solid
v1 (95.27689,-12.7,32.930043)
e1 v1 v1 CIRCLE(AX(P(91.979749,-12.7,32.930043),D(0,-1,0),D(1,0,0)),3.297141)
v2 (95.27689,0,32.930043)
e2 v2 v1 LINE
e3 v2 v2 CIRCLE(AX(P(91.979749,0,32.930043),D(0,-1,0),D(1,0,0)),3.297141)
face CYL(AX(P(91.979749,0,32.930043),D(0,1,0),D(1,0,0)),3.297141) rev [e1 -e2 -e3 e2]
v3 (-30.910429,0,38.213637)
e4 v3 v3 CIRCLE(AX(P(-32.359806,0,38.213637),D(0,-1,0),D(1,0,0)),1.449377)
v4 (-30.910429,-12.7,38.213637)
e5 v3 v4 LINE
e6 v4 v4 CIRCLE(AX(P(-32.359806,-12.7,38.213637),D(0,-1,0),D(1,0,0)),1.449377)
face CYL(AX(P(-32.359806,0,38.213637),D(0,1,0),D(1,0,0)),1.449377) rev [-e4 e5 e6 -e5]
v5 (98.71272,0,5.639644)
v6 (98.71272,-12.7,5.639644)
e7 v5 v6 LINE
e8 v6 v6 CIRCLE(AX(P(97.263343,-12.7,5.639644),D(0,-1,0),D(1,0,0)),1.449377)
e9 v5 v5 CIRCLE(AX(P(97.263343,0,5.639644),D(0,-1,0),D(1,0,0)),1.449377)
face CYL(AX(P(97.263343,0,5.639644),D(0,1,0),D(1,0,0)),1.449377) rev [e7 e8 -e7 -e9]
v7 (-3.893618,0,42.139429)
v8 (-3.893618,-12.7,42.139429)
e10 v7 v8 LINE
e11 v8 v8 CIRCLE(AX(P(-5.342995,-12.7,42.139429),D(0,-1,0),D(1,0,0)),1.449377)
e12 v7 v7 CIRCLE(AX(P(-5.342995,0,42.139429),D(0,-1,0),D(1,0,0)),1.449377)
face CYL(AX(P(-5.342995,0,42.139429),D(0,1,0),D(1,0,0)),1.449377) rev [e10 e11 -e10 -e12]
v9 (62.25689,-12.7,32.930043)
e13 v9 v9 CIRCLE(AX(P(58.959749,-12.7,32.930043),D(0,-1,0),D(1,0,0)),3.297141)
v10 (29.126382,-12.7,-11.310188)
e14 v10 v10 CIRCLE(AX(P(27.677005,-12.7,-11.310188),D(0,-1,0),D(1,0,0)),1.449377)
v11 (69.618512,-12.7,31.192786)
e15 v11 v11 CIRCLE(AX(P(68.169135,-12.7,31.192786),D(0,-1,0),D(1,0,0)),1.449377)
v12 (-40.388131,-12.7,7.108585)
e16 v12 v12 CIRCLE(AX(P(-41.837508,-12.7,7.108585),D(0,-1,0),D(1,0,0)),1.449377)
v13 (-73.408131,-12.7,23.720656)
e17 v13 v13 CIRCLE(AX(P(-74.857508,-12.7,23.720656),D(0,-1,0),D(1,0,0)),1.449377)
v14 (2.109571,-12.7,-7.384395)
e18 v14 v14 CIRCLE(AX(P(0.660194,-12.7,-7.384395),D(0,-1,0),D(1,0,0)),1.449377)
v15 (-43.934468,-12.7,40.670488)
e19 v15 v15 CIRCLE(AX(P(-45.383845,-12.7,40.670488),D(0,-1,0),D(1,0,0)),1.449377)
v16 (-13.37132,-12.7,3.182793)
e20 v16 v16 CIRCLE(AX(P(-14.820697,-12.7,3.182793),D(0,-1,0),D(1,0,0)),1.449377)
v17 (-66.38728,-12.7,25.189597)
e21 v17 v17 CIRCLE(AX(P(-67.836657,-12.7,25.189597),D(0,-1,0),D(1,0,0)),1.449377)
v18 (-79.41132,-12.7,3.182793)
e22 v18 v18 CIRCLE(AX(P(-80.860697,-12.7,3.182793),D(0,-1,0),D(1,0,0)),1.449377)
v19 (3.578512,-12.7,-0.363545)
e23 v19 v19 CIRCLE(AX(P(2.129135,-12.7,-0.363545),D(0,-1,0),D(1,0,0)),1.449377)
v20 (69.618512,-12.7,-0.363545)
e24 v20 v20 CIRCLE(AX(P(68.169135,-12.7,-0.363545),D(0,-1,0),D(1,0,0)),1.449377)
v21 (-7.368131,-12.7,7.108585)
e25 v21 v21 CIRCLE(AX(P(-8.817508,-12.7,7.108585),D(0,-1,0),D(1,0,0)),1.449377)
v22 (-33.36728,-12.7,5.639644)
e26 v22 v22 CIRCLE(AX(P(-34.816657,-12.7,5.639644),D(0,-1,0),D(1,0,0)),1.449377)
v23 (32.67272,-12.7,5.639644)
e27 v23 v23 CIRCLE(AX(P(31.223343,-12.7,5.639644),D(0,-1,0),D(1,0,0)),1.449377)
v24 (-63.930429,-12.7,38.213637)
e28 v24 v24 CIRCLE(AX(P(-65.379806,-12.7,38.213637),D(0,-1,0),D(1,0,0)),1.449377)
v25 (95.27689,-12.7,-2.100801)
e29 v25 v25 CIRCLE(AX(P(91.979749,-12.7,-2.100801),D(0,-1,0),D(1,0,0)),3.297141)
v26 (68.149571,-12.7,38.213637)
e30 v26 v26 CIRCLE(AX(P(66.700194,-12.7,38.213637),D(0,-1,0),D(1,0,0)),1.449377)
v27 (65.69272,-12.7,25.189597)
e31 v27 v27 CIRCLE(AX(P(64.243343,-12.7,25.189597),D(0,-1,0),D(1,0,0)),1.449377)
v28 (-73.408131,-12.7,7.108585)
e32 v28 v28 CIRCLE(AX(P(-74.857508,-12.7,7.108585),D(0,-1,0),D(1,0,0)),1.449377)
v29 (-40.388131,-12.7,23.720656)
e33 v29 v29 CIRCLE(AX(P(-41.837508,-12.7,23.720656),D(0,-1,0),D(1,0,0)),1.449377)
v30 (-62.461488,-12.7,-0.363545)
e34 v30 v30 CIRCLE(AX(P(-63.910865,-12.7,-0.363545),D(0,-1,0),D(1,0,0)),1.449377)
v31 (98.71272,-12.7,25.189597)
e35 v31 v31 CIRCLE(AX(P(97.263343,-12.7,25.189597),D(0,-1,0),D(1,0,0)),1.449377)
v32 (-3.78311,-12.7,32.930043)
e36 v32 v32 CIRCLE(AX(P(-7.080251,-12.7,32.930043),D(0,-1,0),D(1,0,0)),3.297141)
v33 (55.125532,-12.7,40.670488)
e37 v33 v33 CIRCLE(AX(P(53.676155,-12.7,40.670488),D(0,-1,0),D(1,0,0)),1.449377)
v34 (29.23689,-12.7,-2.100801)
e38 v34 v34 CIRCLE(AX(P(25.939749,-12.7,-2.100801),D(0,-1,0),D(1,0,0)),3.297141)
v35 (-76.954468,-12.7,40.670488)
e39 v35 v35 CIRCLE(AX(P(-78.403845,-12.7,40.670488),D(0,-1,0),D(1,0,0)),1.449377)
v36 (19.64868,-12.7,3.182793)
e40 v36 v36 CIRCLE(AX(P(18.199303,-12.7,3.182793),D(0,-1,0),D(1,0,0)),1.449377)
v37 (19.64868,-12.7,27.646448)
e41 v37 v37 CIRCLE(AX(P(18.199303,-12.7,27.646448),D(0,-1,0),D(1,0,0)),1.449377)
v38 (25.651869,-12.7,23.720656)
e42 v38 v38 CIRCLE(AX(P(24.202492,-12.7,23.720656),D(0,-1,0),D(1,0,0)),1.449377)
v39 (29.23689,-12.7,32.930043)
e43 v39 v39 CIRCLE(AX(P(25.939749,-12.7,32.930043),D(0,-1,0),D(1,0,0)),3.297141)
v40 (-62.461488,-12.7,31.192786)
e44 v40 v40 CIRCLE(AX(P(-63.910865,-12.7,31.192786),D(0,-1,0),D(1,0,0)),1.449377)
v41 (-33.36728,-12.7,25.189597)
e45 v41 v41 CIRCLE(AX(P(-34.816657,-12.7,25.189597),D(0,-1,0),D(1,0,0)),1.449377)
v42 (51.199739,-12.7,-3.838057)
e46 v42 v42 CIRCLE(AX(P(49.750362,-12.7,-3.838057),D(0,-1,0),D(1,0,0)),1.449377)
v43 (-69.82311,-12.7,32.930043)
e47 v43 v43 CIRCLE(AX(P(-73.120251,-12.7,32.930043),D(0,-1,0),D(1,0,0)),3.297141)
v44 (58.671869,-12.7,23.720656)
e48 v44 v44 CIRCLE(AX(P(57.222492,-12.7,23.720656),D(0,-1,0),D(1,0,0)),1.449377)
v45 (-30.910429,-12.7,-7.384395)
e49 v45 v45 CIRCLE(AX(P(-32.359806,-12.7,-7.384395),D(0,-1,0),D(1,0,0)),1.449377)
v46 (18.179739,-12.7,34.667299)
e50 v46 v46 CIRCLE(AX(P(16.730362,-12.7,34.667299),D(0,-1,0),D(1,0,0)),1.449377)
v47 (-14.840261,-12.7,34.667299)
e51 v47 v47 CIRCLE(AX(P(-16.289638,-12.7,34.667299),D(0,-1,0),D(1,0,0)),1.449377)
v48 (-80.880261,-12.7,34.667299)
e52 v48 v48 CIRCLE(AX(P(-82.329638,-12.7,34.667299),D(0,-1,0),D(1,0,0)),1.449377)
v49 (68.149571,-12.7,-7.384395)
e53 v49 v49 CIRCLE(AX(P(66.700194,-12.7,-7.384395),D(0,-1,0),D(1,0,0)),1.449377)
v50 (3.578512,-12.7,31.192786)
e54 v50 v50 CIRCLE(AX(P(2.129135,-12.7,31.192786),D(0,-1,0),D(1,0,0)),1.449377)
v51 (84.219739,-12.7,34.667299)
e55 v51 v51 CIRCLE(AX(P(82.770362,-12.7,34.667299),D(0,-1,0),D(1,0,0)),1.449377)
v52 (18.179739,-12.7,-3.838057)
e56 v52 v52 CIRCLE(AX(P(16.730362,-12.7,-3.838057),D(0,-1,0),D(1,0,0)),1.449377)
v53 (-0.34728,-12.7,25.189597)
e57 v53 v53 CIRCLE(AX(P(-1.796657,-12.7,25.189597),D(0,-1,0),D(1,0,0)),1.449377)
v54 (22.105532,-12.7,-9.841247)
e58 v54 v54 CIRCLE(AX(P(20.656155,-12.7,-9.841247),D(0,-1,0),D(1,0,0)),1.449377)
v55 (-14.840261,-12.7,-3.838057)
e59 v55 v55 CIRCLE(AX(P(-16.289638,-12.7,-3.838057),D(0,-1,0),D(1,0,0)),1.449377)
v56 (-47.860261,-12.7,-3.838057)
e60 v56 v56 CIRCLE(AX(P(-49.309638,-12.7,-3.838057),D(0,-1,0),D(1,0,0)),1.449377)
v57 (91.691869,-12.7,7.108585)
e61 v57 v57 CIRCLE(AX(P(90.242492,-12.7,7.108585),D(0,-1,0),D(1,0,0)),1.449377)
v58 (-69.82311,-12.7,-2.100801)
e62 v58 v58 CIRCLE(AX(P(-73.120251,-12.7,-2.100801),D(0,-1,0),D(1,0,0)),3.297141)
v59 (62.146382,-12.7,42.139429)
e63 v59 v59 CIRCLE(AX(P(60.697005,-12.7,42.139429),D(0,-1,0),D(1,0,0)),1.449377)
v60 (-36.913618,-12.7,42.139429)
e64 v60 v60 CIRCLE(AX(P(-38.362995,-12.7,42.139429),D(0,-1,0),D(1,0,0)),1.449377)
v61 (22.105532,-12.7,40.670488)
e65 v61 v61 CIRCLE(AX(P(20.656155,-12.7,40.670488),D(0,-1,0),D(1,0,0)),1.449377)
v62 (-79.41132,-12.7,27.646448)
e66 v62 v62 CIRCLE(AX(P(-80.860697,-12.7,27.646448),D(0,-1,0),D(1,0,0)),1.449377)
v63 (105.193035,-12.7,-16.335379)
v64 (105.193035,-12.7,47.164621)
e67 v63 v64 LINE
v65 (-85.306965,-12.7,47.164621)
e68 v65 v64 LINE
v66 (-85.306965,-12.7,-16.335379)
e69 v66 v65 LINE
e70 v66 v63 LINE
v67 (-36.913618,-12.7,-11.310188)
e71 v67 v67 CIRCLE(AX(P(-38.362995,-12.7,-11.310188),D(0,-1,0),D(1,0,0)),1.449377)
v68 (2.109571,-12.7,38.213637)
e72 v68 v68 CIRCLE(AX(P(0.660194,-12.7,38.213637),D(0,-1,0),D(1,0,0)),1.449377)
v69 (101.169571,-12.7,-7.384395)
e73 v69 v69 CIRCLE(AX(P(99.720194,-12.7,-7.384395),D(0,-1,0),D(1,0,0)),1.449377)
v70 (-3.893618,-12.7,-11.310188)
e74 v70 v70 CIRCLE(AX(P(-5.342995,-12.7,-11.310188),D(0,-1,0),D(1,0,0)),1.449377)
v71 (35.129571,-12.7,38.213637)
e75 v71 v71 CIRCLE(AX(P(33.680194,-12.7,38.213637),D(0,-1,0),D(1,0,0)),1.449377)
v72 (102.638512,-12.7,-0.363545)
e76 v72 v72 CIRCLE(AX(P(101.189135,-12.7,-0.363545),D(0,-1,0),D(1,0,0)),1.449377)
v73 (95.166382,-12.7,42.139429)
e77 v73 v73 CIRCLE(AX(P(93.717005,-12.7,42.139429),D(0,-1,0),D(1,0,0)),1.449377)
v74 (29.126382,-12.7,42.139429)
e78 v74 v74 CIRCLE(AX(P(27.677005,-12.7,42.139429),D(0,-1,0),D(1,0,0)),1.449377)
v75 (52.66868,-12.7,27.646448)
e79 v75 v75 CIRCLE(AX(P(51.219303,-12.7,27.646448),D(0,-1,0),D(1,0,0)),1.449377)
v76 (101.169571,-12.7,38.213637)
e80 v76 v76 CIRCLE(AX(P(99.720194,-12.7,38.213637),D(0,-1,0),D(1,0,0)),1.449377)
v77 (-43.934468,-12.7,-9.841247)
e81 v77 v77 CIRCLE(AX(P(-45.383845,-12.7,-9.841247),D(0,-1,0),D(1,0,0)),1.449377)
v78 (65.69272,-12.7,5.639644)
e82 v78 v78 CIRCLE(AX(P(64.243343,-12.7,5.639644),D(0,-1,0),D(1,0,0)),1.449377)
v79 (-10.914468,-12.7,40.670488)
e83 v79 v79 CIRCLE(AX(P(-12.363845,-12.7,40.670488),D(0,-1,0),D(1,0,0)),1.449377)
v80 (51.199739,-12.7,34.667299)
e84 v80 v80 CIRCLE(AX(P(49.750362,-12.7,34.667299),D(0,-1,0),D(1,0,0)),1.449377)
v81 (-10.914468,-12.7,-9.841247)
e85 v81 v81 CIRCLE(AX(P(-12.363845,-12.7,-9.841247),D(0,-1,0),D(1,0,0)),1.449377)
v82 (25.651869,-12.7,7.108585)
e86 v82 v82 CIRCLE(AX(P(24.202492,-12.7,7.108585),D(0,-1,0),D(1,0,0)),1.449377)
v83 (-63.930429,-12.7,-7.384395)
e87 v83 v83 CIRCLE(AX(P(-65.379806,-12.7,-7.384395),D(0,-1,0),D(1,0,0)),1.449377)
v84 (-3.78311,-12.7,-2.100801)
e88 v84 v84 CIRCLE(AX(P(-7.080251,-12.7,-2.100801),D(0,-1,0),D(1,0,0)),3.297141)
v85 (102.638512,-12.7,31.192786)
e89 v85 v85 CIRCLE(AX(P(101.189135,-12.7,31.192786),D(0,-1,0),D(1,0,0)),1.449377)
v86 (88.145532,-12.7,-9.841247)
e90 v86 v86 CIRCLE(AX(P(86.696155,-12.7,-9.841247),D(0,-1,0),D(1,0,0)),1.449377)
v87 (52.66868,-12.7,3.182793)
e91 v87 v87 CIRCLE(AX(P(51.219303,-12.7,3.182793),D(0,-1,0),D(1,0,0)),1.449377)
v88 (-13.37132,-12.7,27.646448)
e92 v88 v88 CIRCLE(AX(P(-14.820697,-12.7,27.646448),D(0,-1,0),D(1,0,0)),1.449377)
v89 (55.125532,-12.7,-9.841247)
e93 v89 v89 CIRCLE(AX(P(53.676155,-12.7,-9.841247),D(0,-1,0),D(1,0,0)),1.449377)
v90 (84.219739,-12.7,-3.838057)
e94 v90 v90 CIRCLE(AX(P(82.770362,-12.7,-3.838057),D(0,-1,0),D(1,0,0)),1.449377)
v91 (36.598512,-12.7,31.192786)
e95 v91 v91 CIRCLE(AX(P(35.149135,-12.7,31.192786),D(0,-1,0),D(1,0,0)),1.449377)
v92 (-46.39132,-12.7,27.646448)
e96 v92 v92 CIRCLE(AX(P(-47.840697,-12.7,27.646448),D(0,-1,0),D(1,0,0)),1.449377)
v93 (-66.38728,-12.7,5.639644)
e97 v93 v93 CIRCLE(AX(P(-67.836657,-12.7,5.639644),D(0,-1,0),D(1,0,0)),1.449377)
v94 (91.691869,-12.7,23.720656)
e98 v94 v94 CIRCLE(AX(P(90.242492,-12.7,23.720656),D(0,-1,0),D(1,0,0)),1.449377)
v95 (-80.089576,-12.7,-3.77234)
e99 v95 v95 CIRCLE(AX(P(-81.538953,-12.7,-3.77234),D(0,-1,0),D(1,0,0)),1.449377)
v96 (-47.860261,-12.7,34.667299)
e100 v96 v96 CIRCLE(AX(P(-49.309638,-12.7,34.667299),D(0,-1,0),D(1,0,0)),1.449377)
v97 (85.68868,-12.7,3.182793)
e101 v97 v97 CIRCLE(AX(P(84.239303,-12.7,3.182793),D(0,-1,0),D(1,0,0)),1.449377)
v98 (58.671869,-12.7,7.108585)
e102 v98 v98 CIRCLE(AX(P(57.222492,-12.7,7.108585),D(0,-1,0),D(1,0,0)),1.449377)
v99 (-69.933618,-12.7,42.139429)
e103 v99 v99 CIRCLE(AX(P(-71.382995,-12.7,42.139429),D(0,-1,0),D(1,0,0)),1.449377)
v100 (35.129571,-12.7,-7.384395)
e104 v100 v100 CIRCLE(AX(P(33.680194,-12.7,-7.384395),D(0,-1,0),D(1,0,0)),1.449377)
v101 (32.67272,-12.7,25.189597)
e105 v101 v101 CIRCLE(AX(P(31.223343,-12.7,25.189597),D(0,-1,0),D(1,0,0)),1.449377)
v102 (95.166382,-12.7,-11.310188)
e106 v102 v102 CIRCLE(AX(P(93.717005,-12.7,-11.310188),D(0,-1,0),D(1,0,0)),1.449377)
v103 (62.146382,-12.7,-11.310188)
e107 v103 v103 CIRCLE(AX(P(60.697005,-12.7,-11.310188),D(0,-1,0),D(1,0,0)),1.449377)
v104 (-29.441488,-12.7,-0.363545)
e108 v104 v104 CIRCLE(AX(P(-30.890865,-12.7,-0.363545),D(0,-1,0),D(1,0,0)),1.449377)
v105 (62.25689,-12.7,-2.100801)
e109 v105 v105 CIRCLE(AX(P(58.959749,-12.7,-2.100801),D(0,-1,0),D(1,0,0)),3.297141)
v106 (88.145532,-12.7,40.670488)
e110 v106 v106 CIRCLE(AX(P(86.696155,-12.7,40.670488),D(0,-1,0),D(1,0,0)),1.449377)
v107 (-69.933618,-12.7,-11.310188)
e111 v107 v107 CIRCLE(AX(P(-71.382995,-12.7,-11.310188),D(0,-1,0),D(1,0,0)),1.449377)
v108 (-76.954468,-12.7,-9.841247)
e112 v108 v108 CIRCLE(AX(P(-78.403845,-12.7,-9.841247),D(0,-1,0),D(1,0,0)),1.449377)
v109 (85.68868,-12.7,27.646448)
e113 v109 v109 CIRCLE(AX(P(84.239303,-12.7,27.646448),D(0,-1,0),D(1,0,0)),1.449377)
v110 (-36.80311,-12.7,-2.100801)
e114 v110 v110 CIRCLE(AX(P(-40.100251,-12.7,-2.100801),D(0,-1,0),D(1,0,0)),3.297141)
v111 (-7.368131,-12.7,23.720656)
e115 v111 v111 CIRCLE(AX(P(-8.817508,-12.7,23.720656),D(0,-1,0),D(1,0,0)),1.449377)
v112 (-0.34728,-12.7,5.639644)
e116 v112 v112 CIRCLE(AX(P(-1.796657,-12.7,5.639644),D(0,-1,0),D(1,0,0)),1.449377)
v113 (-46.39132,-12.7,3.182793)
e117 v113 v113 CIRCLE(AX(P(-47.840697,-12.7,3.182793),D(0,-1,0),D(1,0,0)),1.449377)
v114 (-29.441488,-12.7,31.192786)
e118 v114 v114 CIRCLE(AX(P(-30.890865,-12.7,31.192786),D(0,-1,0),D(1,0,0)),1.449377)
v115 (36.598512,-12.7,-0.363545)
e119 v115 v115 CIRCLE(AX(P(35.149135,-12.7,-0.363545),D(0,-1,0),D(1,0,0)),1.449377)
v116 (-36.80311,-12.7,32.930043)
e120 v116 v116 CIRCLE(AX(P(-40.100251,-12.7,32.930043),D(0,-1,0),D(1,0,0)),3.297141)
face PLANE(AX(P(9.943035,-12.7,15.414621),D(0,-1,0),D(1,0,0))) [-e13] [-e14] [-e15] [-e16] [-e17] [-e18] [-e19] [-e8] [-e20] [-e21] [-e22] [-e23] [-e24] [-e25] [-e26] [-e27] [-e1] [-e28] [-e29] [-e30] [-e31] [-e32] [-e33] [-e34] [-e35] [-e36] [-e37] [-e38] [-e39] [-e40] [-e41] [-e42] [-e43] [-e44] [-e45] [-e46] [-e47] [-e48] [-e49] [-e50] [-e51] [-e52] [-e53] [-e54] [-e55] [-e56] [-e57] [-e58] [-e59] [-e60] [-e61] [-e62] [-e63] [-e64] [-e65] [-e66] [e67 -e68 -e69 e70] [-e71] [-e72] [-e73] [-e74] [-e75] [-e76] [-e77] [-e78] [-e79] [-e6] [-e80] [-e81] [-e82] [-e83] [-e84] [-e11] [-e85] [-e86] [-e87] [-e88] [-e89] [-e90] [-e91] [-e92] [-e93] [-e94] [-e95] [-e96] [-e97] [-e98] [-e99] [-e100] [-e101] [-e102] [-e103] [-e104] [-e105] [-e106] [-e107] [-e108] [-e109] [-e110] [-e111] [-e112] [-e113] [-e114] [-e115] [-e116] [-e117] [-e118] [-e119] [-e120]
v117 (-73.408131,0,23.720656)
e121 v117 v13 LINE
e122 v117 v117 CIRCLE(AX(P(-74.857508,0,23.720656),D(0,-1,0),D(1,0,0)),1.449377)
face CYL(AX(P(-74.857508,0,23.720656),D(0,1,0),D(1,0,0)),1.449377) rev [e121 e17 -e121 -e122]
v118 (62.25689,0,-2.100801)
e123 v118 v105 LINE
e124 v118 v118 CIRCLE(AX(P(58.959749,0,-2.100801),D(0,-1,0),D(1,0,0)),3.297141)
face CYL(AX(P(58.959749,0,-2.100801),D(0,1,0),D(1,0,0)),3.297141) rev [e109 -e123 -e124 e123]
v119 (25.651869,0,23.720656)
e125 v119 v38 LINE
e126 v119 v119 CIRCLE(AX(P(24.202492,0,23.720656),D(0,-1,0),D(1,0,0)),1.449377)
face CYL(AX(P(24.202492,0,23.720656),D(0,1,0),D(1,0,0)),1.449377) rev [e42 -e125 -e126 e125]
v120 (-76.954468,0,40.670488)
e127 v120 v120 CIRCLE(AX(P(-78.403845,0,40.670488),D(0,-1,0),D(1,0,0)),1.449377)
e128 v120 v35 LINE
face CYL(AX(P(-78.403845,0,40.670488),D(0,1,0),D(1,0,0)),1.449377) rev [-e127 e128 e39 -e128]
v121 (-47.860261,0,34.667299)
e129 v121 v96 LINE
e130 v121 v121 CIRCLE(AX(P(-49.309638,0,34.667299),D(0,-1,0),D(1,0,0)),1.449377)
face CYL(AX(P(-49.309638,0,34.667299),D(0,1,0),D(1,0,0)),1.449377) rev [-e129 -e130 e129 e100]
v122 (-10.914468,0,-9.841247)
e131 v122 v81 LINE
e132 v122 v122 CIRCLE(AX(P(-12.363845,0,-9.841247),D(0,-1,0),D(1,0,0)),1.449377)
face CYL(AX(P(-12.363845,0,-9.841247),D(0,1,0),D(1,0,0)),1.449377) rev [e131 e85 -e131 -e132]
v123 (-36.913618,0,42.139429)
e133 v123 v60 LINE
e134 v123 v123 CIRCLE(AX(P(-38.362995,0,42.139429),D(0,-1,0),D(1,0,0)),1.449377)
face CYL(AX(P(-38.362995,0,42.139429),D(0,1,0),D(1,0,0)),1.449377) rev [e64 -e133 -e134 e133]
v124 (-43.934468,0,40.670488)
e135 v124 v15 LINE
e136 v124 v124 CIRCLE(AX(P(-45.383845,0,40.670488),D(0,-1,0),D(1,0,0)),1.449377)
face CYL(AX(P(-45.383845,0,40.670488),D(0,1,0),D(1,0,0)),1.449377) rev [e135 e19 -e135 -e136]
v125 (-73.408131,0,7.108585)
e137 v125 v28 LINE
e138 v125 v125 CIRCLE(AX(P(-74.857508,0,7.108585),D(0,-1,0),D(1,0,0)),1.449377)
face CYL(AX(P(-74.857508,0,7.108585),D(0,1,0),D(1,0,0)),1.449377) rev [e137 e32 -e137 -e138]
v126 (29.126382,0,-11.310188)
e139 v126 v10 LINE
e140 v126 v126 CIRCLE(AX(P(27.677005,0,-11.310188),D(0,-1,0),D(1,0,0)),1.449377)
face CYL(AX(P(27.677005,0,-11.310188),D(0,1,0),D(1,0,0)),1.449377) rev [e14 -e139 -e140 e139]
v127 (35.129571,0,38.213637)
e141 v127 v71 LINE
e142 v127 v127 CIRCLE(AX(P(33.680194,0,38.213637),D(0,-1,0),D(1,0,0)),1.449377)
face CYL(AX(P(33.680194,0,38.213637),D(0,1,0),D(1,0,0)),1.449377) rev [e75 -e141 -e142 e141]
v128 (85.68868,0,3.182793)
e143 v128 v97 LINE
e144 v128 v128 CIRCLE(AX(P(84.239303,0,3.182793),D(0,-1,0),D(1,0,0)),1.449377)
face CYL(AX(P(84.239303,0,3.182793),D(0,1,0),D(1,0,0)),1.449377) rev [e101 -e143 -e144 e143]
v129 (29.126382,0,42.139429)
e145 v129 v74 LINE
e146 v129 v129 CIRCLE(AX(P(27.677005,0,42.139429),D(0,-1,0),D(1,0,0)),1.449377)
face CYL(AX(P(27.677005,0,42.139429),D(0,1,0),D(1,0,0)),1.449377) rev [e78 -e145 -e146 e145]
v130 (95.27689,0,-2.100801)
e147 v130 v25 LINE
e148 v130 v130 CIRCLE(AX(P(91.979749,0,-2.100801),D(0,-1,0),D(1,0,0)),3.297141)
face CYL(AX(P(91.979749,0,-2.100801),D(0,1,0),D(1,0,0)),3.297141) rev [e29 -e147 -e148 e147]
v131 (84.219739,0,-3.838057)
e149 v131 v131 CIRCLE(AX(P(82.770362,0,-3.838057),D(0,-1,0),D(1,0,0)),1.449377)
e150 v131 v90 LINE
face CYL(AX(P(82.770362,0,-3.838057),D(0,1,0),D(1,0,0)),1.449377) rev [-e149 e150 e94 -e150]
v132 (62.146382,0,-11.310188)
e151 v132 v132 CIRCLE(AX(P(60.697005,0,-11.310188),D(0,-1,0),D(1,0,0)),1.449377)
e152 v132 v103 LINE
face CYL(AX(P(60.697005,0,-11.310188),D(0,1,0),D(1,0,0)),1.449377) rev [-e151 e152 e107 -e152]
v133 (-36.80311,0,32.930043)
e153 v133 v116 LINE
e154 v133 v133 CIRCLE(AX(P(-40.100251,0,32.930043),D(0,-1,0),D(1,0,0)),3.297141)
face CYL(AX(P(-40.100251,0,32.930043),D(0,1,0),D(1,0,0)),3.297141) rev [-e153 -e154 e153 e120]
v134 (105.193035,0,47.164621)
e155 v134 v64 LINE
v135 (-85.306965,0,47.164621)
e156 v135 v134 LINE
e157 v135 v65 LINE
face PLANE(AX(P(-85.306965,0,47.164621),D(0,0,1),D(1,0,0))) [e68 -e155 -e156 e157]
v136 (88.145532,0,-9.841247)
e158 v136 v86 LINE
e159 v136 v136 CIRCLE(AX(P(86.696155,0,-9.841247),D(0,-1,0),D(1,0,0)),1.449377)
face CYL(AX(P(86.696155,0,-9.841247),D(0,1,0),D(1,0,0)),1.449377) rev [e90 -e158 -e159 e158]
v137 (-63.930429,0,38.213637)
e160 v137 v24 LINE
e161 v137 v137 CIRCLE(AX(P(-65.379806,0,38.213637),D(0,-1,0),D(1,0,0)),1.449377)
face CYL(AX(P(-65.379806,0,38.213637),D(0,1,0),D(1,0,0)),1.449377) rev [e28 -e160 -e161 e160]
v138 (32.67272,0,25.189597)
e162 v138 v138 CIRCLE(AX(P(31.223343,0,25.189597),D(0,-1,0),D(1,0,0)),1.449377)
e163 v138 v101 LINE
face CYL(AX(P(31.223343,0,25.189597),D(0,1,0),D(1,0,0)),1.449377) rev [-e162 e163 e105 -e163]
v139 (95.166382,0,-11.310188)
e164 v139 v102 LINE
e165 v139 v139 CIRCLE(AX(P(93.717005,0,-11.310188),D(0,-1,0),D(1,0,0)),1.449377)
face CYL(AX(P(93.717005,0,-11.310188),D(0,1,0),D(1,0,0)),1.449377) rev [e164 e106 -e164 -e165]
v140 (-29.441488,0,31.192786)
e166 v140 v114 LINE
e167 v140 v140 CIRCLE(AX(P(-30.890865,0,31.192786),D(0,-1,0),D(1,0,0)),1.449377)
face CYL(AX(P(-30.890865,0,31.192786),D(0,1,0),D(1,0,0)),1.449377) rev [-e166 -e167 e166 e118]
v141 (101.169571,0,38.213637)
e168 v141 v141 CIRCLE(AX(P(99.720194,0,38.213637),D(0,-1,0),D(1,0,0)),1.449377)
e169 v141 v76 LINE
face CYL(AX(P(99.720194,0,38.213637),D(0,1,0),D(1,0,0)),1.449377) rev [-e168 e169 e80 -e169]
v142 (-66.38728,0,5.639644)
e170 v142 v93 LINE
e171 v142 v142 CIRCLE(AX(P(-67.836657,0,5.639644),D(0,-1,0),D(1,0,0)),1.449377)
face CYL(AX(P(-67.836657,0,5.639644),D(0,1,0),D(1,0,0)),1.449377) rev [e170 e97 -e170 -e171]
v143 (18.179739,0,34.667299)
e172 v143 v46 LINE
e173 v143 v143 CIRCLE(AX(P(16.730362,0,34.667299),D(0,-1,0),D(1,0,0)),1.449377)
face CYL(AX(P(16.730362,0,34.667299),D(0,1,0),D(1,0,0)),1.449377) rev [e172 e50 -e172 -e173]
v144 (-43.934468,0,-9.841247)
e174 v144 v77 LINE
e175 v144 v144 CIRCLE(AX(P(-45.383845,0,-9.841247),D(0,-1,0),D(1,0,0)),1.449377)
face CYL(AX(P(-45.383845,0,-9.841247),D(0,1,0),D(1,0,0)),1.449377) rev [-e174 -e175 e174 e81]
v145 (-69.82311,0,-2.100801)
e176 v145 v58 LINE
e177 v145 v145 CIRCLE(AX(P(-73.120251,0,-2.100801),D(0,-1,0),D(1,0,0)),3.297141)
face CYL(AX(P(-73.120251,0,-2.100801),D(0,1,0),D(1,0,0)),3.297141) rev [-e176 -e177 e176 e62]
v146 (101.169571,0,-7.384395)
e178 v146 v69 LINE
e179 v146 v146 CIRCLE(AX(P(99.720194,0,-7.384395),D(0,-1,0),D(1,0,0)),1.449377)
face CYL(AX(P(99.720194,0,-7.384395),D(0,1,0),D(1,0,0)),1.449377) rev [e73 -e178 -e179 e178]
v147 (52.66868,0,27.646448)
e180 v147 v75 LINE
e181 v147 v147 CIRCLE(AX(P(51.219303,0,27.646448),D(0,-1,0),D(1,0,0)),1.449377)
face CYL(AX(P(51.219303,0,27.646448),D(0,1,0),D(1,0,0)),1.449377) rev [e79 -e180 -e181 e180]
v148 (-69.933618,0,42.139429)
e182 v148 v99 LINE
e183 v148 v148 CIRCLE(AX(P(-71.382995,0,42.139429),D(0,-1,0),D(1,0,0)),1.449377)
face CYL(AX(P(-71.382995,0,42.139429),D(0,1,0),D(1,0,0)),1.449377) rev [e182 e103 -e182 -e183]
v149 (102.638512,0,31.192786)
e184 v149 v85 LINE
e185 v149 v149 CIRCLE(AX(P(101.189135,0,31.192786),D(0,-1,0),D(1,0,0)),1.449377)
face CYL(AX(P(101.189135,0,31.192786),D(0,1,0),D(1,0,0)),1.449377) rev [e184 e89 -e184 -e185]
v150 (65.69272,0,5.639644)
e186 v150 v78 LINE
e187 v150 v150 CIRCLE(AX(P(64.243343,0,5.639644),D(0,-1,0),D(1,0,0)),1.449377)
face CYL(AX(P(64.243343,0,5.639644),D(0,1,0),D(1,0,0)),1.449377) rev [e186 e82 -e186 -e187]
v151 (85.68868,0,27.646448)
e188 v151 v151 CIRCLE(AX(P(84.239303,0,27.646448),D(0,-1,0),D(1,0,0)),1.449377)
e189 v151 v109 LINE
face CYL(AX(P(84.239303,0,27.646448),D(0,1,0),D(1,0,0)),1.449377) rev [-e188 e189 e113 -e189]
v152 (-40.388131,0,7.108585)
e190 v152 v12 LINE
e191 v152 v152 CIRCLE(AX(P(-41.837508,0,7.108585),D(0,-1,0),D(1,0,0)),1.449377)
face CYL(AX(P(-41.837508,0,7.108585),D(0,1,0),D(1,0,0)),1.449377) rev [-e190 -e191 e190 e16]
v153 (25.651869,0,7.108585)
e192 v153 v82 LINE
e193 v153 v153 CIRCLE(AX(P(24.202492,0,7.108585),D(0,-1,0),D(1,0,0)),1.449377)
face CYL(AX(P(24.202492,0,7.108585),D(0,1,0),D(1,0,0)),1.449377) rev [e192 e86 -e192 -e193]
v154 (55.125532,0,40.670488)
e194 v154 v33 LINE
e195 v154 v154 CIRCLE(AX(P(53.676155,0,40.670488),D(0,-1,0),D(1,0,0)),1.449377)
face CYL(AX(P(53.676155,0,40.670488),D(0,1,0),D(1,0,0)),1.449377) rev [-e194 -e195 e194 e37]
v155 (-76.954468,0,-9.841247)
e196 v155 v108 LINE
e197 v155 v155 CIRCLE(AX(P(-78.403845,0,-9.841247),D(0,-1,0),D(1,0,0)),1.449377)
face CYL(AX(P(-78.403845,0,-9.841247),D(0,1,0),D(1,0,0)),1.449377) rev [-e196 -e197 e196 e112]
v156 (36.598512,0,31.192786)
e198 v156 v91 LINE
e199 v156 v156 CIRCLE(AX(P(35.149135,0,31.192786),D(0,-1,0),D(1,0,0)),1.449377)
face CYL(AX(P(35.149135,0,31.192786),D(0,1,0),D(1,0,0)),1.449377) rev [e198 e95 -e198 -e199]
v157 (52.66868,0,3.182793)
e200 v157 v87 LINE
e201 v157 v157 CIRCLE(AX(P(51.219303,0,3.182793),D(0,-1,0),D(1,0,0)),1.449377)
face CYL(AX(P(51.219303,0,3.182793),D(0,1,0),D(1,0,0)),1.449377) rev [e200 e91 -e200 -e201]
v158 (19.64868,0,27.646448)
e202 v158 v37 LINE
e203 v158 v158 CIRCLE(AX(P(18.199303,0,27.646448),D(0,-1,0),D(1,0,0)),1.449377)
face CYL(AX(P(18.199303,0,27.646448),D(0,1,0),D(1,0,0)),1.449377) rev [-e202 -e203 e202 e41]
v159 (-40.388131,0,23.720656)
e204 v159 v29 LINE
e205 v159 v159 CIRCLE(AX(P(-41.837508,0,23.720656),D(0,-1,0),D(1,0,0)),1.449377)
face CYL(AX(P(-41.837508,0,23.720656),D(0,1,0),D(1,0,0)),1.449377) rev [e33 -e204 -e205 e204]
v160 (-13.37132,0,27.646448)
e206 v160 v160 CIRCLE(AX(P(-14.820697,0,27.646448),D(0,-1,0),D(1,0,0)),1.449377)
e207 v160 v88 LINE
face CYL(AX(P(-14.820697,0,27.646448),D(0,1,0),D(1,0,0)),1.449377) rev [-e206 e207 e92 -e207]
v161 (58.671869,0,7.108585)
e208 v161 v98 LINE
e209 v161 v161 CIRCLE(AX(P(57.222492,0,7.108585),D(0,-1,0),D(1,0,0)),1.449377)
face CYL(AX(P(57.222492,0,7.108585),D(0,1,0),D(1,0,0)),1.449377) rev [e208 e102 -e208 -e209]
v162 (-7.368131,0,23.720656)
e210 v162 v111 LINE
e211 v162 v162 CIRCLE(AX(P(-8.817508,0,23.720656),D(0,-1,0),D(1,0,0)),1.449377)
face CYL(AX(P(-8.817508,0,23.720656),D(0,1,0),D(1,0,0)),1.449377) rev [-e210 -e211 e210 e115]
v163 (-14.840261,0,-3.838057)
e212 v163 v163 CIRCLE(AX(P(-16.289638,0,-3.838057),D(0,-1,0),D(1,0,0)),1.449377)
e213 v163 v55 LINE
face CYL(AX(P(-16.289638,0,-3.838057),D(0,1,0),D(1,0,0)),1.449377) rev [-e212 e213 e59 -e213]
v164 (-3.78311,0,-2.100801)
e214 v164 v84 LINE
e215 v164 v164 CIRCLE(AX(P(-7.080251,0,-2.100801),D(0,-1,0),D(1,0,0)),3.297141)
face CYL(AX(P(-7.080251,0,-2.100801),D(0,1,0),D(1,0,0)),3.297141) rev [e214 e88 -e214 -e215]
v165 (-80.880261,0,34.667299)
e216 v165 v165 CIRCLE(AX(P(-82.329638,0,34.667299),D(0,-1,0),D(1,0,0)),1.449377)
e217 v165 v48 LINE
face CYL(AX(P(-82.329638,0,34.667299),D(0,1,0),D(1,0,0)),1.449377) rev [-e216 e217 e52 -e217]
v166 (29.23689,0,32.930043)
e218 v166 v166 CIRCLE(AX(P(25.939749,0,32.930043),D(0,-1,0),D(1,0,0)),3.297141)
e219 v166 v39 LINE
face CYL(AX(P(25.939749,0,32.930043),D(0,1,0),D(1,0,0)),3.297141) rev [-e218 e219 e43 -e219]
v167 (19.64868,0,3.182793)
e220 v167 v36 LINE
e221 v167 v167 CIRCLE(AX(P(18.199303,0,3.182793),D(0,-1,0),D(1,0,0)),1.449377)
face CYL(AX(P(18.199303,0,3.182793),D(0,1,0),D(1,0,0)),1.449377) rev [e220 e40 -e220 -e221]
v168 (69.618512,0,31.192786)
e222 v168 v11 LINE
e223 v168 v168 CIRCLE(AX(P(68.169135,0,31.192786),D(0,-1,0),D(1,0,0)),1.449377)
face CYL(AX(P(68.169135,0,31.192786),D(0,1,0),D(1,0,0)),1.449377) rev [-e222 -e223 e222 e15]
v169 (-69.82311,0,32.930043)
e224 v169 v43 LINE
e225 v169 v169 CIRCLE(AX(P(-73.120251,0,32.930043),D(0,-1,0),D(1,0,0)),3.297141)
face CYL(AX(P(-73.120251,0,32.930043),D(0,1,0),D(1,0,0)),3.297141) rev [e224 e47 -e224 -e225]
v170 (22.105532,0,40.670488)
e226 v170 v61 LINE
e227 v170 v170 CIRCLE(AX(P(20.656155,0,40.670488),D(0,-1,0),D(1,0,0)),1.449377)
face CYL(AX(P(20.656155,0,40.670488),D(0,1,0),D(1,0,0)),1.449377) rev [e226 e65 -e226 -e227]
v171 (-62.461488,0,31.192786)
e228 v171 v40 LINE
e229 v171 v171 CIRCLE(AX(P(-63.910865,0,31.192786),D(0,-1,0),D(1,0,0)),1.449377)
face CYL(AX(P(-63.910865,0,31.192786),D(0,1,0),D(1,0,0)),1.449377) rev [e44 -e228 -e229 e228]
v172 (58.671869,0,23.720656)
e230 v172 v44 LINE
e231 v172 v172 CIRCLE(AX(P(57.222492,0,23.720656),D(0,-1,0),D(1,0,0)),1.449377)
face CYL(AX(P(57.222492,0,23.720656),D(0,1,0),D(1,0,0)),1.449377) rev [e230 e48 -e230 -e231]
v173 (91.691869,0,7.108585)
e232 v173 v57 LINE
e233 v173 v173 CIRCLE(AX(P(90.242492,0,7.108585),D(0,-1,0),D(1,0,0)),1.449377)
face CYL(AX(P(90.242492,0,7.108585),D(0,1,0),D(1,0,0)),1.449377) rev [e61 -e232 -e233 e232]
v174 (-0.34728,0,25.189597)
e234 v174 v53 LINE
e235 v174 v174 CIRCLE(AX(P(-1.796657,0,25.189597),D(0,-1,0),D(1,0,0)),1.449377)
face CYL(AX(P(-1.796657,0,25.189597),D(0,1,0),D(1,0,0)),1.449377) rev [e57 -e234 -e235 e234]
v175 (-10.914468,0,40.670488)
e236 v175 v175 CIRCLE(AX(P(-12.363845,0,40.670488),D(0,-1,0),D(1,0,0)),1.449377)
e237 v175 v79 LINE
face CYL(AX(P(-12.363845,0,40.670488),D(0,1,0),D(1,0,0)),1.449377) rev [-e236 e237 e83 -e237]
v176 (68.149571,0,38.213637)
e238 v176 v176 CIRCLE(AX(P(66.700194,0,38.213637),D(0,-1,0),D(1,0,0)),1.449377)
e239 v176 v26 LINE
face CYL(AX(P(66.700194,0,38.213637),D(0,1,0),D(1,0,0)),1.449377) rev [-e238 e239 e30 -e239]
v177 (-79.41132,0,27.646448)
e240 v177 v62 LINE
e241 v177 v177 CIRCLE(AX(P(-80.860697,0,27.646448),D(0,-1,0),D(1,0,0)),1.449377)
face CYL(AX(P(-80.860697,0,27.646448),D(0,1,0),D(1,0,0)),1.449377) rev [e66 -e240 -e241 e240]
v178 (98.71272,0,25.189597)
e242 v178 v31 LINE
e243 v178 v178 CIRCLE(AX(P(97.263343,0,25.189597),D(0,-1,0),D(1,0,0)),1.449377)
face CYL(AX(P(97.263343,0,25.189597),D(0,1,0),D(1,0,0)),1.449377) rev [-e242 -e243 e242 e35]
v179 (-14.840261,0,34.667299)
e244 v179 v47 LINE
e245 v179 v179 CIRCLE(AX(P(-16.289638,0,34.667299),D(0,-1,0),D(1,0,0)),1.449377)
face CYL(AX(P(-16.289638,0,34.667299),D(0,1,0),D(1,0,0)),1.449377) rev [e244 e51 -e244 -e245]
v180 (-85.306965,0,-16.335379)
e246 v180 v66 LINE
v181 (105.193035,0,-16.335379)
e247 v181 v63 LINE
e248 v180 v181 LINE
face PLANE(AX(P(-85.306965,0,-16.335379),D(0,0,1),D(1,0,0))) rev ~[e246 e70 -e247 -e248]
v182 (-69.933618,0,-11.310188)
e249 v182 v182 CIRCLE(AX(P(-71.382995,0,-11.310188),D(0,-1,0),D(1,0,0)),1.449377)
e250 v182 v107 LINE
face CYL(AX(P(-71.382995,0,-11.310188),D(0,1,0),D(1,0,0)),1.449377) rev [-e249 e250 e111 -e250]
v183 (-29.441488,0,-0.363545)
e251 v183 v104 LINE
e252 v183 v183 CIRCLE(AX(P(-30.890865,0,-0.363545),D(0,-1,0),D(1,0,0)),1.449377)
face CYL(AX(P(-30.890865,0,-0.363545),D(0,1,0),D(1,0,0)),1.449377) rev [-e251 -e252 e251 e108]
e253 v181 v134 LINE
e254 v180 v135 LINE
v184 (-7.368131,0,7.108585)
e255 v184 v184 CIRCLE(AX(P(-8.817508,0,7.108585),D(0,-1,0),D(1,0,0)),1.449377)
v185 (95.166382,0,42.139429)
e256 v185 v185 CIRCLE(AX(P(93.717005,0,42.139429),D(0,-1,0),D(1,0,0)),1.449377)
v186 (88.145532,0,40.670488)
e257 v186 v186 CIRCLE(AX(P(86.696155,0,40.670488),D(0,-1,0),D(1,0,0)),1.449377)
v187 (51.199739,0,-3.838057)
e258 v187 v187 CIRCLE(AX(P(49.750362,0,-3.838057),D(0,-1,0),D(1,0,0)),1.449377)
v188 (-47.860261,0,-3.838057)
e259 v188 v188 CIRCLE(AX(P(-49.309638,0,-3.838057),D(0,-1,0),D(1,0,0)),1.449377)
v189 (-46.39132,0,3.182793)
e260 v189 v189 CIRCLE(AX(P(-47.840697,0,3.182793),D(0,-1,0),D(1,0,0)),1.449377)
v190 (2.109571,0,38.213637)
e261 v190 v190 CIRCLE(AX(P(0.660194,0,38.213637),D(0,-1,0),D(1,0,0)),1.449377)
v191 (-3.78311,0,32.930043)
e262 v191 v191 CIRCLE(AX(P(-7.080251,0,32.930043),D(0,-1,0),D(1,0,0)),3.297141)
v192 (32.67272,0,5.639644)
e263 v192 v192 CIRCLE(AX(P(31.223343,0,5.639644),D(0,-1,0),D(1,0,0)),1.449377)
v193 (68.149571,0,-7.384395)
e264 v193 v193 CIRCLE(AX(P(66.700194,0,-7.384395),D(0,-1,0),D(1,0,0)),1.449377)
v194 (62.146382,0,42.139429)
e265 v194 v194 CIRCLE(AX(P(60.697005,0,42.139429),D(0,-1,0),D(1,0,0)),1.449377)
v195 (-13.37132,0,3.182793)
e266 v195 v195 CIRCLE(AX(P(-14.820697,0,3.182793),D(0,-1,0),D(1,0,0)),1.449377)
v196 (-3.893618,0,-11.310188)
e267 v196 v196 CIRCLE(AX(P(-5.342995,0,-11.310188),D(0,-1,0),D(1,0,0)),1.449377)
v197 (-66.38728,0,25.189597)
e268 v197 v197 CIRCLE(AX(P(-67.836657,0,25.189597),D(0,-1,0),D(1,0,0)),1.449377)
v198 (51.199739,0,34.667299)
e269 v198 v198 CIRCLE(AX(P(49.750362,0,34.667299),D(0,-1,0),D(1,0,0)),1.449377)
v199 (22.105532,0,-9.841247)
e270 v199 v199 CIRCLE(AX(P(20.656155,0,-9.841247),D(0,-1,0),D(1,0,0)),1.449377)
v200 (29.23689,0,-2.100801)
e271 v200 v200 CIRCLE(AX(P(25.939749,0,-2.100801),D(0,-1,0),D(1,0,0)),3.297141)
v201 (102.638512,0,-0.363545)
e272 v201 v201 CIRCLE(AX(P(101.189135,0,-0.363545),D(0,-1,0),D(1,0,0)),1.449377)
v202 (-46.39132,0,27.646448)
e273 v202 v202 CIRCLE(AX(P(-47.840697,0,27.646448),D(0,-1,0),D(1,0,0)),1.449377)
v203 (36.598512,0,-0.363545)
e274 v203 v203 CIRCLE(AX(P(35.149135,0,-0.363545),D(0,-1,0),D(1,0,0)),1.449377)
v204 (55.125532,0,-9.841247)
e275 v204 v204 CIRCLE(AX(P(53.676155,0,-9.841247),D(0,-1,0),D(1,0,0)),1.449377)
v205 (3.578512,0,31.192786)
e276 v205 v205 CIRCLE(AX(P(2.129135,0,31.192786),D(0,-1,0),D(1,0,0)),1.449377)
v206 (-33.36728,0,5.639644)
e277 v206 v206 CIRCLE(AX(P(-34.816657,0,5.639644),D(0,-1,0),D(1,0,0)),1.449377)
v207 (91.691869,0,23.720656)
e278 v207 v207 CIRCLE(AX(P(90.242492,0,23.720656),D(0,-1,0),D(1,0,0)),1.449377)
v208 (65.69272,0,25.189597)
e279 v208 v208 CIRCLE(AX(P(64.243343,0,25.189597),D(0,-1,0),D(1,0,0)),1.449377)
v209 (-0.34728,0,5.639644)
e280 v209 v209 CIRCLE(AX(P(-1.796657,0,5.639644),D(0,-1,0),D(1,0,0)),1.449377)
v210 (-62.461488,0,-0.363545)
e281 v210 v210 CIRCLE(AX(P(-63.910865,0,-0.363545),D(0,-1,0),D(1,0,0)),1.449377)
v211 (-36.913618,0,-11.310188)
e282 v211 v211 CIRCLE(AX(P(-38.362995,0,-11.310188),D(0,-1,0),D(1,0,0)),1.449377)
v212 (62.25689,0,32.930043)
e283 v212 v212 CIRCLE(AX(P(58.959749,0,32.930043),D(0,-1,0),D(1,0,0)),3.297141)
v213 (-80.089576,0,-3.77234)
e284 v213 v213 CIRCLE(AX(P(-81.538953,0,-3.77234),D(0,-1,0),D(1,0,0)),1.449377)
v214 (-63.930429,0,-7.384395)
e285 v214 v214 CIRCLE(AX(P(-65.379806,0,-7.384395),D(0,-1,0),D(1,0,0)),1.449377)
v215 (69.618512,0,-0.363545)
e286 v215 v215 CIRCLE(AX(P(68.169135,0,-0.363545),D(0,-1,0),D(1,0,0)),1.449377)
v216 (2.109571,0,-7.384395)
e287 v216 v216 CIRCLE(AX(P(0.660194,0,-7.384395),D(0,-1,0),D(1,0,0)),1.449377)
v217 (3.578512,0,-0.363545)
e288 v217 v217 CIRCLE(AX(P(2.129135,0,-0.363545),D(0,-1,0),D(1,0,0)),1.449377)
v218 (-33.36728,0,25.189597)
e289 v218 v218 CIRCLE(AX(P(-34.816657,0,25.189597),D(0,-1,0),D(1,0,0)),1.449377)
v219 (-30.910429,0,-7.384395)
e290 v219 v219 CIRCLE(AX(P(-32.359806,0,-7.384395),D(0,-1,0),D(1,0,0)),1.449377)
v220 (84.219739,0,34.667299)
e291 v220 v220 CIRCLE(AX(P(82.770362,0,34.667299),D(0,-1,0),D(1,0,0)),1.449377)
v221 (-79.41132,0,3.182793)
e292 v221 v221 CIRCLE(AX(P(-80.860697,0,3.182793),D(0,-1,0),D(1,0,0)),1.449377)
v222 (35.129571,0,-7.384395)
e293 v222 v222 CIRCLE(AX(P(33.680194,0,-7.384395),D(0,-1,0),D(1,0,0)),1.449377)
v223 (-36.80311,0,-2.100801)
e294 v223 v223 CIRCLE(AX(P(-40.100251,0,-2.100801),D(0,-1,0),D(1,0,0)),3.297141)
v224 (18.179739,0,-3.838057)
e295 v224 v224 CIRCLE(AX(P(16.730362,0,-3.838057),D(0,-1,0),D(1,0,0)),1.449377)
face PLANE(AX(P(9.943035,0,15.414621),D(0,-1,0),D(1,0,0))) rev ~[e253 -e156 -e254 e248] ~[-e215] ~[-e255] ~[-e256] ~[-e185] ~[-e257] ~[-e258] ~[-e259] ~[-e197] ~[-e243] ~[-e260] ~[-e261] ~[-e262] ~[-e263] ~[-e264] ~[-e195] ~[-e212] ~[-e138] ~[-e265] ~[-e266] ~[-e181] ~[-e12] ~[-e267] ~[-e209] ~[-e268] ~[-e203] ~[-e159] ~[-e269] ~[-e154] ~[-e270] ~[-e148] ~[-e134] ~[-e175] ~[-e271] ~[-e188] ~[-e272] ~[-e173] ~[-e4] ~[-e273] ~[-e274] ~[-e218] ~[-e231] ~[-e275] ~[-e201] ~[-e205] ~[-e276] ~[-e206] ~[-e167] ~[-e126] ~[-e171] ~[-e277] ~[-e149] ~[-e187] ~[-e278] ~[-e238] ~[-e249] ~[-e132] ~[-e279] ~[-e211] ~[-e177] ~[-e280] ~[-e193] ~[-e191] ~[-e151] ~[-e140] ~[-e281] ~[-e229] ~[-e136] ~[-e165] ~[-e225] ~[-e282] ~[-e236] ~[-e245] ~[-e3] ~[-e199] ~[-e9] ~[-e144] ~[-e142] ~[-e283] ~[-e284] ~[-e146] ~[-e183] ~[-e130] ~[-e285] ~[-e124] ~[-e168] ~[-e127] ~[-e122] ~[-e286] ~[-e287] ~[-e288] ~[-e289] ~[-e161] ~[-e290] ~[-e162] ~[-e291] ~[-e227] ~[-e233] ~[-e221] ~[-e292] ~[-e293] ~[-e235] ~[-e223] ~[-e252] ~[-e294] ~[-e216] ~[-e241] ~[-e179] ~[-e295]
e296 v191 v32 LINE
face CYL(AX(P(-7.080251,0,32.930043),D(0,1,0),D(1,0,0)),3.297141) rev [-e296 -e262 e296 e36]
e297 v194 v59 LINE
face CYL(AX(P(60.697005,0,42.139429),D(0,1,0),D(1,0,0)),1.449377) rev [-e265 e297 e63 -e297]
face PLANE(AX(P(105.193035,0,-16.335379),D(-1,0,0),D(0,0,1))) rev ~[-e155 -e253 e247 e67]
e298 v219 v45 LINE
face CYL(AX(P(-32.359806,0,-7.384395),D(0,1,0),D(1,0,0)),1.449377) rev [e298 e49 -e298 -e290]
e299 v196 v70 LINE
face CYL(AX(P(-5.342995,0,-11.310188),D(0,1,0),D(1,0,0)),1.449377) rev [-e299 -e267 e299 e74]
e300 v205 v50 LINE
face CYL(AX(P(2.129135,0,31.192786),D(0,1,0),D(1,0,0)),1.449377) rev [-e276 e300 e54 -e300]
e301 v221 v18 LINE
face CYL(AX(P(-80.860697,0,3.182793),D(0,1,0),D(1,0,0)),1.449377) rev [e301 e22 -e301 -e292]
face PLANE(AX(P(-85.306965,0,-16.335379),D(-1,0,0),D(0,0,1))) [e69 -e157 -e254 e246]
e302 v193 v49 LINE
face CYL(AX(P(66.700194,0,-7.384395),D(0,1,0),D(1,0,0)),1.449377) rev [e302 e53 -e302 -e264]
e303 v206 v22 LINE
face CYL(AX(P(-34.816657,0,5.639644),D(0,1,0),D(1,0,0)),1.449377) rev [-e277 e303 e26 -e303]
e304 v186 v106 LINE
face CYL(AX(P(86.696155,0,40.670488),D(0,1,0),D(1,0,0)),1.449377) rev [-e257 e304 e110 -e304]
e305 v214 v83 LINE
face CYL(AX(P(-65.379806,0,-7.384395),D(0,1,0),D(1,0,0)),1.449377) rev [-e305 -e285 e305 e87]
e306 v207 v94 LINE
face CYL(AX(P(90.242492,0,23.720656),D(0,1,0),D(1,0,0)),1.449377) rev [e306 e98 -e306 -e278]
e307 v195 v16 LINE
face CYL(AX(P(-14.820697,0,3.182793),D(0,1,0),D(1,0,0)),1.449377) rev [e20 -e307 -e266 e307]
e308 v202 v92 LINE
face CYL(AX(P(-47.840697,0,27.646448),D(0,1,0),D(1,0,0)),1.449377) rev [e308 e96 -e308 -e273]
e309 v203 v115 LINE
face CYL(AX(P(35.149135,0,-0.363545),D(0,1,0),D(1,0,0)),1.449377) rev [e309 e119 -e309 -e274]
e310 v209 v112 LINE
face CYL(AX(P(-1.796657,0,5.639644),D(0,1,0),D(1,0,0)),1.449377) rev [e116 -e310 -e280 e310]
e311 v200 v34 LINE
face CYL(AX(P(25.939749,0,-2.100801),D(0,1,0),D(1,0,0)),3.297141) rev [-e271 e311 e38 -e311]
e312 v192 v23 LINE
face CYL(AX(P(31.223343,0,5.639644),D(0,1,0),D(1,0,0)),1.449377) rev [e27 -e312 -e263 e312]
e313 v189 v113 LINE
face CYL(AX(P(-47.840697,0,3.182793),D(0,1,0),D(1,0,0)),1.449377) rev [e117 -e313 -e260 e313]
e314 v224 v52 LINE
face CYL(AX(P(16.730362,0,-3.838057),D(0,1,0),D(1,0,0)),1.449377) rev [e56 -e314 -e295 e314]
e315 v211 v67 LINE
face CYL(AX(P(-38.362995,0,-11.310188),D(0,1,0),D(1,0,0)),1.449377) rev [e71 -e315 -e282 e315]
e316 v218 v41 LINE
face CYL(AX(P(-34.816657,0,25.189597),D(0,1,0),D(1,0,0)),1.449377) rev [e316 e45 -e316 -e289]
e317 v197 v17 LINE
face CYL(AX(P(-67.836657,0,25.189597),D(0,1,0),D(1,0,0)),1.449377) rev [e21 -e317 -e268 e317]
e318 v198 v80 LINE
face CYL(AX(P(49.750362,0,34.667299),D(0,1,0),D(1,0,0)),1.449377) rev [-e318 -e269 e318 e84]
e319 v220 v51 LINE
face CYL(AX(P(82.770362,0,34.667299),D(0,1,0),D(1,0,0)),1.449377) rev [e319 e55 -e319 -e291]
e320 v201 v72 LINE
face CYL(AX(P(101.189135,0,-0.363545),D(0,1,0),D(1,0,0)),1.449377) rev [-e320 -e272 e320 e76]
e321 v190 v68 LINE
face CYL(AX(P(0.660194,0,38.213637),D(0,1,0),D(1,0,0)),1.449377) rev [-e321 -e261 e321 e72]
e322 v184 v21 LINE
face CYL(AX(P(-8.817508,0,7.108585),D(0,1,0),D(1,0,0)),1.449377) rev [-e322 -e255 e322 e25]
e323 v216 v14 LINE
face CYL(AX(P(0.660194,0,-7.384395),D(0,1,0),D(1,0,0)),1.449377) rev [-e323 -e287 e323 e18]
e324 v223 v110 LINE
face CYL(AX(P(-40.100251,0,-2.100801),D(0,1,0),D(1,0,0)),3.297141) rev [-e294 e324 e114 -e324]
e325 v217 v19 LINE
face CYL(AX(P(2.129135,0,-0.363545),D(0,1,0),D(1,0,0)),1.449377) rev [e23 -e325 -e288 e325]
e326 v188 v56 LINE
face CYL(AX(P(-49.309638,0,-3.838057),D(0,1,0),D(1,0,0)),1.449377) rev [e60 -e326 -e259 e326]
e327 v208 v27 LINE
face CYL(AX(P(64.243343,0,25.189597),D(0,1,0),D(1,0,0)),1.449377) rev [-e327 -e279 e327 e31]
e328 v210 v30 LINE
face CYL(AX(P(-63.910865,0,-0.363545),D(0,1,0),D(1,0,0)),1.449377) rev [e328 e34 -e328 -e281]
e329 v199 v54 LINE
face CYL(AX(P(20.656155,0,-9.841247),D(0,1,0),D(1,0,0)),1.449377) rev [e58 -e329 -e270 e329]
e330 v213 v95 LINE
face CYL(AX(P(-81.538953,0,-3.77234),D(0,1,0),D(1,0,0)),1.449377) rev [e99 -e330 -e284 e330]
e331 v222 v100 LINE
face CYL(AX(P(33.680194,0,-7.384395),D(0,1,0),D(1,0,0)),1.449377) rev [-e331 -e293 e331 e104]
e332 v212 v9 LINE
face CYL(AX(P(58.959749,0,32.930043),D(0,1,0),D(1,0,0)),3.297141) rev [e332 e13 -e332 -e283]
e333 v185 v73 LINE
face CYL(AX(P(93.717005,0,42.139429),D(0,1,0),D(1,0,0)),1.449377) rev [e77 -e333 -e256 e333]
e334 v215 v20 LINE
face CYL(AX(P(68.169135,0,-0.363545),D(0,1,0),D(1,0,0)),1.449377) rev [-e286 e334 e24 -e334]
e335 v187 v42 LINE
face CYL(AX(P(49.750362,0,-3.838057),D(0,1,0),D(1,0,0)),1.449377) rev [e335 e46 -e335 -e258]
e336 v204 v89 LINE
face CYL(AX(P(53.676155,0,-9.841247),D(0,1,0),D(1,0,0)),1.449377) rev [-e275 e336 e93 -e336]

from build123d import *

# Parameters (mm, degrees)
F0_W     = 190.5
F0_H     = 63.5
F0_R     = 1.449377
F0_R_2   = 3.297141
F1_DEPTH = 12.7


with BuildPart() as f1:
    # F0 (on Front) → F1 (new body)
    with BuildSketch(Plane.XZ):
        with Locations((9.943035, 15.414621)):
            Rectangle(F0_W, F0_H)
        with Locations((-78.403845, -9.841247)):
            Circle(F0_R, mode=Mode.SUBTRACT)
        with Locations((-71.382995, -11.310188)):
            Circle(F0_R, mode=Mode.SUBTRACT)
        with Locations((-38.362995, -11.310188)):
            Circle(F0_R, mode=Mode.SUBTRACT)
        with Locations((-45.383845, -9.841247)):
            Circle(F0_R, mode=Mode.SUBTRACT)
        with Locations((-65.379806, -7.384395)):
            Circle(F0_R, mode=Mode.SUBTRACT)
        with Locations((-81.538953, -3.77234)):
            Circle(F0_R, mode=Mode.SUBTRACT)
        with Locations((-73.120251, -2.100801)):
            Circle(F0_R_2, mode=Mode.SUBTRACT)
        with Locations((-49.309638, -3.838057)):
            Circle(F0_R, mode=Mode.SUBTRACT)
        with Locations((-40.100251, -2.100801)):
            Circle(F0_R_2, mode=Mode.SUBTRACT)
        with Locations((-5.342995, -11.310188)):
            Circle(F0_R, mode=Mode.SUBTRACT)
        with Locations((-12.363845, -9.841247)):
            Circle(F0_R, mode=Mode.SUBTRACT)
        with Locations((-32.359806, -7.384395)):
            Circle(F0_R, mode=Mode.SUBTRACT)
        with Locations((-16.289638, -3.838057)):
            Circle(F0_R, mode=Mode.SUBTRACT)
        with Locations((0.660194, -7.384395)):
            Circle(F0_R, mode=Mode.SUBTRACT)
        with Locations((-7.080251, -2.100801)):
            Circle(F0_R_2, mode=Mode.SUBTRACT)
        with Locations((-80.860697, 3.182793)):
            Circle(F0_R, mode=Mode.SUBTRACT)
        with Locations((-63.910865, -0.363545)):
            Circle(F0_R, mode=Mode.SUBTRACT)
        with Locations((-74.857508, 7.108585)):
            Circle(F0_R, mode=Mode.SUBTRACT)
        with Locations((-67.836657, 5.639644)):
            Circle(F0_R, mode=Mode.SUBTRACT)
        with Locations((-47.840697, 3.182793)):
            Circle(F0_R, mode=Mode.SUBTRACT)
        with Locations((-41.837508, 7.108585)):
            Circle(F0_R, mode=Mode.SUBTRACT)
        with Locations((-30.890865, -0.363545)):
            Circle(F0_R, mode=Mode.SUBTRACT)
        with Locations((-14.820697, 3.182793)):
            Circle(F0_R, mode=Mode.SUBTRACT)
        with Locations((-34.816657, 5.639644)):
            Circle(F0_R, mode=Mode.SUBTRACT)
        with Locations((2.129135, -0.363545)):
            Circle(F0_R, mode=Mode.SUBTRACT)
        with Locations((-8.817508, 7.108585)):
            Circle(F0_R, mode=Mode.SUBTRACT)
        with Locations((-1.796657, 5.639644)):
            Circle(F0_R, mode=Mode.SUBTRACT)
        with Locations((20.656155, -9.841247)):
            Circle(F0_R, mode=Mode.SUBTRACT)
        with Locations((27.677005, -11.310188)):
            Circle(F0_R, mode=Mode.SUBTRACT)
        with Locations((53.676155, -9.841247)):
            Circle(F0_R, mode=Mode.SUBTRACT)
        with Locations((33.680194, -7.384395)):
            Circle(F0_R, mode=Mode.SUBTRACT)
        with Locations((16.730362, -3.838057)):
            Circle(F0_R, mode=Mode.SUBTRACT)
        with Locations((25.939749, -2.100801)):
            Circle(F0_R_2, mode=Mode.SUBTRACT)
        with Locations((49.750362, -3.838057)):
            Circle(F0_R, mode=Mode.SUBTRACT)
        with Locations((60.697005, -11.310188)):
            Circle(F0_R, mode=Mode.SUBTRACT)
        with Locations((86.696155, -9.841247)):
            Circle(F0_R, mode=Mode.SUBTRACT)
        with Locations((93.717005, -11.310188)):
            Circle(F0_R, mode=Mode.SUBTRACT)
        with Locations((66.700194, -7.384395)):
            Circle(F0_R, mode=Mode.SUBTRACT)
        with Locations((58.959749, -2.100801)):
            Circle(F0_R_2, mode=Mode.SUBTRACT)
        with Locations((99.720194, -7.384395)):
            Circle(F0_R, mode=Mode.SUBTRACT)
        with Locations((82.770362, -3.838057)):
            Circle(F0_R, mode=Mode.SUBTRACT)
        with Locations((91.979749, -2.100801)):
            Circle(F0_R_2, mode=Mode.SUBTRACT)
        with Locations((18.199303, 3.182793)):
            Circle(F0_R, mode=Mode.SUBTRACT)
        with Locations((24.202492, 7.108585)):
            Circle(F0_R, mode=Mode.SUBTRACT)
        with Locations((31.223343, 5.639644)):
            Circle(F0_R, mode=Mode.SUBTRACT)
        with Locations((35.149135, -0.363545)):
            Circle(F0_R, mode=Mode.SUBTRACT)
        with Locations((51.219303, 3.182793)):
            Circle(F0_R, mode=Mode.SUBTRACT)
        with Locations((57.222492, 7.108585)):
            Circle(F0_R, mode=Mode.SUBTRACT)
        with Locations((68.169135, -0.363545)):
            Circle(F0_R, mode=Mode.SUBTRACT)
        with Locations((64.243343, 5.639644)):
            Circle(F0_R, mode=Mode.SUBTRACT)
        with Locations((84.239303, 3.182793)):
            Circle(F0_R, mode=Mode.SUBTRACT)
        with Locations((101.189135, -0.363545)):
            Circle(F0_R, mode=Mode.SUBTRACT)
        with Locations((90.242492, 7.108585)):
            Circle(F0_R, mode=Mode.SUBTRACT)
        with Locations((97.263343, 5.639644)):
            Circle(F0_R, mode=Mode.SUBTRACT)
        with Locations((-74.857508, 23.720656)):
            Circle(F0_R, mode=Mode.SUBTRACT)
        with Locations((-67.836657, 25.189597)):
            Circle(F0_R, mode=Mode.SUBTRACT)
        with Locations((-80.860697, 27.646448)):
            Circle(F0_R, mode=Mode.SUBTRACT)
        with Locations((-63.910865, 31.192786)):
            Circle(F0_R, mode=Mode.SUBTRACT)
        with Locations((-41.837508, 23.720656)):
            Circle(F0_R, mode=Mode.SUBTRACT)
        with Locations((-47.840697, 27.646448)):
            Circle(F0_R, mode=Mode.SUBTRACT)
        with Locations((-34.816657, 25.189597)):
            Circle(F0_R, mode=Mode.SUBTRACT)
        with Locations((-30.890865, 31.192786)):
            Circle(F0_R, mode=Mode.SUBTRACT)
        with Locations((-14.820697, 27.646448)):
            Circle(F0_R, mode=Mode.SUBTRACT)
        with Locations((-8.817508, 23.720656)):
            Circle(F0_R, mode=Mode.SUBTRACT)
        with Locations((-1.796657, 25.189597)):
            Circle(F0_R, mode=Mode.SUBTRACT)
        with Locations((2.129135, 31.192786)):
            Circle(F0_R, mode=Mode.SUBTRACT)
        with Locations((-82.329638, 34.667299)):
            Circle(F0_R, mode=Mode.SUBTRACT)
        with Locations((-73.120251, 32.930043)):
            Circle(F0_R_2, mode=Mode.SUBTRACT)
        with Locations((-65.379806, 38.213637)):
            Circle(F0_R, mode=Mode.SUBTRACT)
        with Locations((-40.100251, 32.930043)):
            Circle(F0_R_2, mode=Mode.SUBTRACT)
        with Locations((-49.309638, 34.667299)):
            Circle(F0_R, mode=Mode.SUBTRACT)
        with Locations((-78.403845, 40.670488)):
            Circle(F0_R, mode=Mode.SUBTRACT)
        with Locations((-71.382995, 42.139429)):
            Circle(F0_R, mode=Mode.SUBTRACT)
        with Locations((-45.383845, 40.670488)):
            Circle(F0_R, mode=Mode.SUBTRACT)
        with Locations((-38.362995, 42.139429)):
            Circle(F0_R, mode=Mode.SUBTRACT)
        with Locations((-16.289638, 34.667299)):
            Circle(F0_R, mode=Mode.SUBTRACT)
        with Locations((-32.359806, 38.213637)):
            Circle(F0_R, mode=Mode.SUBTRACT)
        with Locations((-7.080251, 32.930043)):
            Circle(F0_R_2, mode=Mode.SUBTRACT)
        with Locations((0.660194, 38.213637)):
            Circle(F0_R, mode=Mode.SUBTRACT)
        with Locations((-12.363845, 40.670488)):
            Circle(F0_R, mode=Mode.SUBTRACT)
        with Locations((-5.342995, 42.139429)):
            Circle(F0_R, mode=Mode.SUBTRACT)
        with Locations((24.202492, 23.720656)):
            Circle(F0_R, mode=Mode.SUBTRACT)
        with Locations((31.223343, 25.189597)):
            Circle(F0_R, mode=Mode.SUBTRACT)
        with Locations((18.199303, 27.646448)):
            Circle(F0_R, mode=Mode.SUBTRACT)
        with Locations((57.222492, 23.720656)):
            Circle(F0_R, mode=Mode.SUBTRACT)
        with Locations((35.149135, 31.192786)):
            Circle(F0_R, mode=Mode.SUBTRACT)
        with Locations((51.219303, 27.646448)):
            Circle(F0_R, mode=Mode.SUBTRACT)
        with Locations((64.243343, 25.189597)):
            Circle(F0_R, mode=Mode.SUBTRACT)
        with Locations((68.169135, 31.192786)):
            Circle(F0_R, mode=Mode.SUBTRACT)
        with Locations((90.242492, 23.720656)):
            Circle(F0_R, mode=Mode.SUBTRACT)
        with Locations((97.263343, 25.189597)):
            Circle(F0_R, mode=Mode.SUBTRACT)
        with Locations((84.239303, 27.646448)):
            Circle(F0_R, mode=Mode.SUBTRACT)
        with Locations((101.189135, 31.192786)):
            Circle(F0_R, mode=Mode.SUBTRACT)
        with Locations((16.730362, 34.667299)):
            Circle(F0_R, mode=Mode.SUBTRACT)
        with Locations((25.939749, 32.930043)):
            Circle(F0_R_2, mode=Mode.SUBTRACT)
        with Locations((33.680194, 38.213637)):
            Circle(F0_R, mode=Mode.SUBTRACT)
        with Locations((49.750362, 34.667299)):
            Circle(F0_R, mode=Mode.SUBTRACT)
        with Locations((20.656155, 40.670488)):
            Circle(F0_R, mode=Mode.SUBTRACT)
        with Locations((27.677005, 42.139429)):
            Circle(F0_R, mode=Mode.SUBTRACT)
        with Locations((53.676155, 40.670488)):
            Circle(F0_R, mode=Mode.SUBTRACT)
        with Locations((58.959749, 32.930043)):
            Circle(F0_R_2, mode=Mode.SUBTRACT)
        with Locations((66.700194, 38.213637)):
            Circle(F0_R, mode=Mode.SUBTRACT)
        with Locations((91.979749, 32.930043)):
            Circle(F0_R_2, mode=Mode.SUBTRACT)
        with Locations((82.770362, 34.667299)):
            Circle(F0_R, mode=Mode.SUBTRACT)
        with Locations((99.720194, 38.213637)):
            Circle(F0_R, mode=Mode.SUBTRACT)
        with Locations((60.697005, 42.139429)):
            Circle(F0_R, mode=Mode.SUBTRACT)
        with Locations((86.696155, 40.670488)):
            Circle(F0_R, mode=Mode.SUBTRACT)
        with Locations((93.717005, 42.139429)):
            Circle(F0_R, mode=Mode.SUBTRACT)
    extrude(amount=F1_DEPTH)


solid = f1.part
